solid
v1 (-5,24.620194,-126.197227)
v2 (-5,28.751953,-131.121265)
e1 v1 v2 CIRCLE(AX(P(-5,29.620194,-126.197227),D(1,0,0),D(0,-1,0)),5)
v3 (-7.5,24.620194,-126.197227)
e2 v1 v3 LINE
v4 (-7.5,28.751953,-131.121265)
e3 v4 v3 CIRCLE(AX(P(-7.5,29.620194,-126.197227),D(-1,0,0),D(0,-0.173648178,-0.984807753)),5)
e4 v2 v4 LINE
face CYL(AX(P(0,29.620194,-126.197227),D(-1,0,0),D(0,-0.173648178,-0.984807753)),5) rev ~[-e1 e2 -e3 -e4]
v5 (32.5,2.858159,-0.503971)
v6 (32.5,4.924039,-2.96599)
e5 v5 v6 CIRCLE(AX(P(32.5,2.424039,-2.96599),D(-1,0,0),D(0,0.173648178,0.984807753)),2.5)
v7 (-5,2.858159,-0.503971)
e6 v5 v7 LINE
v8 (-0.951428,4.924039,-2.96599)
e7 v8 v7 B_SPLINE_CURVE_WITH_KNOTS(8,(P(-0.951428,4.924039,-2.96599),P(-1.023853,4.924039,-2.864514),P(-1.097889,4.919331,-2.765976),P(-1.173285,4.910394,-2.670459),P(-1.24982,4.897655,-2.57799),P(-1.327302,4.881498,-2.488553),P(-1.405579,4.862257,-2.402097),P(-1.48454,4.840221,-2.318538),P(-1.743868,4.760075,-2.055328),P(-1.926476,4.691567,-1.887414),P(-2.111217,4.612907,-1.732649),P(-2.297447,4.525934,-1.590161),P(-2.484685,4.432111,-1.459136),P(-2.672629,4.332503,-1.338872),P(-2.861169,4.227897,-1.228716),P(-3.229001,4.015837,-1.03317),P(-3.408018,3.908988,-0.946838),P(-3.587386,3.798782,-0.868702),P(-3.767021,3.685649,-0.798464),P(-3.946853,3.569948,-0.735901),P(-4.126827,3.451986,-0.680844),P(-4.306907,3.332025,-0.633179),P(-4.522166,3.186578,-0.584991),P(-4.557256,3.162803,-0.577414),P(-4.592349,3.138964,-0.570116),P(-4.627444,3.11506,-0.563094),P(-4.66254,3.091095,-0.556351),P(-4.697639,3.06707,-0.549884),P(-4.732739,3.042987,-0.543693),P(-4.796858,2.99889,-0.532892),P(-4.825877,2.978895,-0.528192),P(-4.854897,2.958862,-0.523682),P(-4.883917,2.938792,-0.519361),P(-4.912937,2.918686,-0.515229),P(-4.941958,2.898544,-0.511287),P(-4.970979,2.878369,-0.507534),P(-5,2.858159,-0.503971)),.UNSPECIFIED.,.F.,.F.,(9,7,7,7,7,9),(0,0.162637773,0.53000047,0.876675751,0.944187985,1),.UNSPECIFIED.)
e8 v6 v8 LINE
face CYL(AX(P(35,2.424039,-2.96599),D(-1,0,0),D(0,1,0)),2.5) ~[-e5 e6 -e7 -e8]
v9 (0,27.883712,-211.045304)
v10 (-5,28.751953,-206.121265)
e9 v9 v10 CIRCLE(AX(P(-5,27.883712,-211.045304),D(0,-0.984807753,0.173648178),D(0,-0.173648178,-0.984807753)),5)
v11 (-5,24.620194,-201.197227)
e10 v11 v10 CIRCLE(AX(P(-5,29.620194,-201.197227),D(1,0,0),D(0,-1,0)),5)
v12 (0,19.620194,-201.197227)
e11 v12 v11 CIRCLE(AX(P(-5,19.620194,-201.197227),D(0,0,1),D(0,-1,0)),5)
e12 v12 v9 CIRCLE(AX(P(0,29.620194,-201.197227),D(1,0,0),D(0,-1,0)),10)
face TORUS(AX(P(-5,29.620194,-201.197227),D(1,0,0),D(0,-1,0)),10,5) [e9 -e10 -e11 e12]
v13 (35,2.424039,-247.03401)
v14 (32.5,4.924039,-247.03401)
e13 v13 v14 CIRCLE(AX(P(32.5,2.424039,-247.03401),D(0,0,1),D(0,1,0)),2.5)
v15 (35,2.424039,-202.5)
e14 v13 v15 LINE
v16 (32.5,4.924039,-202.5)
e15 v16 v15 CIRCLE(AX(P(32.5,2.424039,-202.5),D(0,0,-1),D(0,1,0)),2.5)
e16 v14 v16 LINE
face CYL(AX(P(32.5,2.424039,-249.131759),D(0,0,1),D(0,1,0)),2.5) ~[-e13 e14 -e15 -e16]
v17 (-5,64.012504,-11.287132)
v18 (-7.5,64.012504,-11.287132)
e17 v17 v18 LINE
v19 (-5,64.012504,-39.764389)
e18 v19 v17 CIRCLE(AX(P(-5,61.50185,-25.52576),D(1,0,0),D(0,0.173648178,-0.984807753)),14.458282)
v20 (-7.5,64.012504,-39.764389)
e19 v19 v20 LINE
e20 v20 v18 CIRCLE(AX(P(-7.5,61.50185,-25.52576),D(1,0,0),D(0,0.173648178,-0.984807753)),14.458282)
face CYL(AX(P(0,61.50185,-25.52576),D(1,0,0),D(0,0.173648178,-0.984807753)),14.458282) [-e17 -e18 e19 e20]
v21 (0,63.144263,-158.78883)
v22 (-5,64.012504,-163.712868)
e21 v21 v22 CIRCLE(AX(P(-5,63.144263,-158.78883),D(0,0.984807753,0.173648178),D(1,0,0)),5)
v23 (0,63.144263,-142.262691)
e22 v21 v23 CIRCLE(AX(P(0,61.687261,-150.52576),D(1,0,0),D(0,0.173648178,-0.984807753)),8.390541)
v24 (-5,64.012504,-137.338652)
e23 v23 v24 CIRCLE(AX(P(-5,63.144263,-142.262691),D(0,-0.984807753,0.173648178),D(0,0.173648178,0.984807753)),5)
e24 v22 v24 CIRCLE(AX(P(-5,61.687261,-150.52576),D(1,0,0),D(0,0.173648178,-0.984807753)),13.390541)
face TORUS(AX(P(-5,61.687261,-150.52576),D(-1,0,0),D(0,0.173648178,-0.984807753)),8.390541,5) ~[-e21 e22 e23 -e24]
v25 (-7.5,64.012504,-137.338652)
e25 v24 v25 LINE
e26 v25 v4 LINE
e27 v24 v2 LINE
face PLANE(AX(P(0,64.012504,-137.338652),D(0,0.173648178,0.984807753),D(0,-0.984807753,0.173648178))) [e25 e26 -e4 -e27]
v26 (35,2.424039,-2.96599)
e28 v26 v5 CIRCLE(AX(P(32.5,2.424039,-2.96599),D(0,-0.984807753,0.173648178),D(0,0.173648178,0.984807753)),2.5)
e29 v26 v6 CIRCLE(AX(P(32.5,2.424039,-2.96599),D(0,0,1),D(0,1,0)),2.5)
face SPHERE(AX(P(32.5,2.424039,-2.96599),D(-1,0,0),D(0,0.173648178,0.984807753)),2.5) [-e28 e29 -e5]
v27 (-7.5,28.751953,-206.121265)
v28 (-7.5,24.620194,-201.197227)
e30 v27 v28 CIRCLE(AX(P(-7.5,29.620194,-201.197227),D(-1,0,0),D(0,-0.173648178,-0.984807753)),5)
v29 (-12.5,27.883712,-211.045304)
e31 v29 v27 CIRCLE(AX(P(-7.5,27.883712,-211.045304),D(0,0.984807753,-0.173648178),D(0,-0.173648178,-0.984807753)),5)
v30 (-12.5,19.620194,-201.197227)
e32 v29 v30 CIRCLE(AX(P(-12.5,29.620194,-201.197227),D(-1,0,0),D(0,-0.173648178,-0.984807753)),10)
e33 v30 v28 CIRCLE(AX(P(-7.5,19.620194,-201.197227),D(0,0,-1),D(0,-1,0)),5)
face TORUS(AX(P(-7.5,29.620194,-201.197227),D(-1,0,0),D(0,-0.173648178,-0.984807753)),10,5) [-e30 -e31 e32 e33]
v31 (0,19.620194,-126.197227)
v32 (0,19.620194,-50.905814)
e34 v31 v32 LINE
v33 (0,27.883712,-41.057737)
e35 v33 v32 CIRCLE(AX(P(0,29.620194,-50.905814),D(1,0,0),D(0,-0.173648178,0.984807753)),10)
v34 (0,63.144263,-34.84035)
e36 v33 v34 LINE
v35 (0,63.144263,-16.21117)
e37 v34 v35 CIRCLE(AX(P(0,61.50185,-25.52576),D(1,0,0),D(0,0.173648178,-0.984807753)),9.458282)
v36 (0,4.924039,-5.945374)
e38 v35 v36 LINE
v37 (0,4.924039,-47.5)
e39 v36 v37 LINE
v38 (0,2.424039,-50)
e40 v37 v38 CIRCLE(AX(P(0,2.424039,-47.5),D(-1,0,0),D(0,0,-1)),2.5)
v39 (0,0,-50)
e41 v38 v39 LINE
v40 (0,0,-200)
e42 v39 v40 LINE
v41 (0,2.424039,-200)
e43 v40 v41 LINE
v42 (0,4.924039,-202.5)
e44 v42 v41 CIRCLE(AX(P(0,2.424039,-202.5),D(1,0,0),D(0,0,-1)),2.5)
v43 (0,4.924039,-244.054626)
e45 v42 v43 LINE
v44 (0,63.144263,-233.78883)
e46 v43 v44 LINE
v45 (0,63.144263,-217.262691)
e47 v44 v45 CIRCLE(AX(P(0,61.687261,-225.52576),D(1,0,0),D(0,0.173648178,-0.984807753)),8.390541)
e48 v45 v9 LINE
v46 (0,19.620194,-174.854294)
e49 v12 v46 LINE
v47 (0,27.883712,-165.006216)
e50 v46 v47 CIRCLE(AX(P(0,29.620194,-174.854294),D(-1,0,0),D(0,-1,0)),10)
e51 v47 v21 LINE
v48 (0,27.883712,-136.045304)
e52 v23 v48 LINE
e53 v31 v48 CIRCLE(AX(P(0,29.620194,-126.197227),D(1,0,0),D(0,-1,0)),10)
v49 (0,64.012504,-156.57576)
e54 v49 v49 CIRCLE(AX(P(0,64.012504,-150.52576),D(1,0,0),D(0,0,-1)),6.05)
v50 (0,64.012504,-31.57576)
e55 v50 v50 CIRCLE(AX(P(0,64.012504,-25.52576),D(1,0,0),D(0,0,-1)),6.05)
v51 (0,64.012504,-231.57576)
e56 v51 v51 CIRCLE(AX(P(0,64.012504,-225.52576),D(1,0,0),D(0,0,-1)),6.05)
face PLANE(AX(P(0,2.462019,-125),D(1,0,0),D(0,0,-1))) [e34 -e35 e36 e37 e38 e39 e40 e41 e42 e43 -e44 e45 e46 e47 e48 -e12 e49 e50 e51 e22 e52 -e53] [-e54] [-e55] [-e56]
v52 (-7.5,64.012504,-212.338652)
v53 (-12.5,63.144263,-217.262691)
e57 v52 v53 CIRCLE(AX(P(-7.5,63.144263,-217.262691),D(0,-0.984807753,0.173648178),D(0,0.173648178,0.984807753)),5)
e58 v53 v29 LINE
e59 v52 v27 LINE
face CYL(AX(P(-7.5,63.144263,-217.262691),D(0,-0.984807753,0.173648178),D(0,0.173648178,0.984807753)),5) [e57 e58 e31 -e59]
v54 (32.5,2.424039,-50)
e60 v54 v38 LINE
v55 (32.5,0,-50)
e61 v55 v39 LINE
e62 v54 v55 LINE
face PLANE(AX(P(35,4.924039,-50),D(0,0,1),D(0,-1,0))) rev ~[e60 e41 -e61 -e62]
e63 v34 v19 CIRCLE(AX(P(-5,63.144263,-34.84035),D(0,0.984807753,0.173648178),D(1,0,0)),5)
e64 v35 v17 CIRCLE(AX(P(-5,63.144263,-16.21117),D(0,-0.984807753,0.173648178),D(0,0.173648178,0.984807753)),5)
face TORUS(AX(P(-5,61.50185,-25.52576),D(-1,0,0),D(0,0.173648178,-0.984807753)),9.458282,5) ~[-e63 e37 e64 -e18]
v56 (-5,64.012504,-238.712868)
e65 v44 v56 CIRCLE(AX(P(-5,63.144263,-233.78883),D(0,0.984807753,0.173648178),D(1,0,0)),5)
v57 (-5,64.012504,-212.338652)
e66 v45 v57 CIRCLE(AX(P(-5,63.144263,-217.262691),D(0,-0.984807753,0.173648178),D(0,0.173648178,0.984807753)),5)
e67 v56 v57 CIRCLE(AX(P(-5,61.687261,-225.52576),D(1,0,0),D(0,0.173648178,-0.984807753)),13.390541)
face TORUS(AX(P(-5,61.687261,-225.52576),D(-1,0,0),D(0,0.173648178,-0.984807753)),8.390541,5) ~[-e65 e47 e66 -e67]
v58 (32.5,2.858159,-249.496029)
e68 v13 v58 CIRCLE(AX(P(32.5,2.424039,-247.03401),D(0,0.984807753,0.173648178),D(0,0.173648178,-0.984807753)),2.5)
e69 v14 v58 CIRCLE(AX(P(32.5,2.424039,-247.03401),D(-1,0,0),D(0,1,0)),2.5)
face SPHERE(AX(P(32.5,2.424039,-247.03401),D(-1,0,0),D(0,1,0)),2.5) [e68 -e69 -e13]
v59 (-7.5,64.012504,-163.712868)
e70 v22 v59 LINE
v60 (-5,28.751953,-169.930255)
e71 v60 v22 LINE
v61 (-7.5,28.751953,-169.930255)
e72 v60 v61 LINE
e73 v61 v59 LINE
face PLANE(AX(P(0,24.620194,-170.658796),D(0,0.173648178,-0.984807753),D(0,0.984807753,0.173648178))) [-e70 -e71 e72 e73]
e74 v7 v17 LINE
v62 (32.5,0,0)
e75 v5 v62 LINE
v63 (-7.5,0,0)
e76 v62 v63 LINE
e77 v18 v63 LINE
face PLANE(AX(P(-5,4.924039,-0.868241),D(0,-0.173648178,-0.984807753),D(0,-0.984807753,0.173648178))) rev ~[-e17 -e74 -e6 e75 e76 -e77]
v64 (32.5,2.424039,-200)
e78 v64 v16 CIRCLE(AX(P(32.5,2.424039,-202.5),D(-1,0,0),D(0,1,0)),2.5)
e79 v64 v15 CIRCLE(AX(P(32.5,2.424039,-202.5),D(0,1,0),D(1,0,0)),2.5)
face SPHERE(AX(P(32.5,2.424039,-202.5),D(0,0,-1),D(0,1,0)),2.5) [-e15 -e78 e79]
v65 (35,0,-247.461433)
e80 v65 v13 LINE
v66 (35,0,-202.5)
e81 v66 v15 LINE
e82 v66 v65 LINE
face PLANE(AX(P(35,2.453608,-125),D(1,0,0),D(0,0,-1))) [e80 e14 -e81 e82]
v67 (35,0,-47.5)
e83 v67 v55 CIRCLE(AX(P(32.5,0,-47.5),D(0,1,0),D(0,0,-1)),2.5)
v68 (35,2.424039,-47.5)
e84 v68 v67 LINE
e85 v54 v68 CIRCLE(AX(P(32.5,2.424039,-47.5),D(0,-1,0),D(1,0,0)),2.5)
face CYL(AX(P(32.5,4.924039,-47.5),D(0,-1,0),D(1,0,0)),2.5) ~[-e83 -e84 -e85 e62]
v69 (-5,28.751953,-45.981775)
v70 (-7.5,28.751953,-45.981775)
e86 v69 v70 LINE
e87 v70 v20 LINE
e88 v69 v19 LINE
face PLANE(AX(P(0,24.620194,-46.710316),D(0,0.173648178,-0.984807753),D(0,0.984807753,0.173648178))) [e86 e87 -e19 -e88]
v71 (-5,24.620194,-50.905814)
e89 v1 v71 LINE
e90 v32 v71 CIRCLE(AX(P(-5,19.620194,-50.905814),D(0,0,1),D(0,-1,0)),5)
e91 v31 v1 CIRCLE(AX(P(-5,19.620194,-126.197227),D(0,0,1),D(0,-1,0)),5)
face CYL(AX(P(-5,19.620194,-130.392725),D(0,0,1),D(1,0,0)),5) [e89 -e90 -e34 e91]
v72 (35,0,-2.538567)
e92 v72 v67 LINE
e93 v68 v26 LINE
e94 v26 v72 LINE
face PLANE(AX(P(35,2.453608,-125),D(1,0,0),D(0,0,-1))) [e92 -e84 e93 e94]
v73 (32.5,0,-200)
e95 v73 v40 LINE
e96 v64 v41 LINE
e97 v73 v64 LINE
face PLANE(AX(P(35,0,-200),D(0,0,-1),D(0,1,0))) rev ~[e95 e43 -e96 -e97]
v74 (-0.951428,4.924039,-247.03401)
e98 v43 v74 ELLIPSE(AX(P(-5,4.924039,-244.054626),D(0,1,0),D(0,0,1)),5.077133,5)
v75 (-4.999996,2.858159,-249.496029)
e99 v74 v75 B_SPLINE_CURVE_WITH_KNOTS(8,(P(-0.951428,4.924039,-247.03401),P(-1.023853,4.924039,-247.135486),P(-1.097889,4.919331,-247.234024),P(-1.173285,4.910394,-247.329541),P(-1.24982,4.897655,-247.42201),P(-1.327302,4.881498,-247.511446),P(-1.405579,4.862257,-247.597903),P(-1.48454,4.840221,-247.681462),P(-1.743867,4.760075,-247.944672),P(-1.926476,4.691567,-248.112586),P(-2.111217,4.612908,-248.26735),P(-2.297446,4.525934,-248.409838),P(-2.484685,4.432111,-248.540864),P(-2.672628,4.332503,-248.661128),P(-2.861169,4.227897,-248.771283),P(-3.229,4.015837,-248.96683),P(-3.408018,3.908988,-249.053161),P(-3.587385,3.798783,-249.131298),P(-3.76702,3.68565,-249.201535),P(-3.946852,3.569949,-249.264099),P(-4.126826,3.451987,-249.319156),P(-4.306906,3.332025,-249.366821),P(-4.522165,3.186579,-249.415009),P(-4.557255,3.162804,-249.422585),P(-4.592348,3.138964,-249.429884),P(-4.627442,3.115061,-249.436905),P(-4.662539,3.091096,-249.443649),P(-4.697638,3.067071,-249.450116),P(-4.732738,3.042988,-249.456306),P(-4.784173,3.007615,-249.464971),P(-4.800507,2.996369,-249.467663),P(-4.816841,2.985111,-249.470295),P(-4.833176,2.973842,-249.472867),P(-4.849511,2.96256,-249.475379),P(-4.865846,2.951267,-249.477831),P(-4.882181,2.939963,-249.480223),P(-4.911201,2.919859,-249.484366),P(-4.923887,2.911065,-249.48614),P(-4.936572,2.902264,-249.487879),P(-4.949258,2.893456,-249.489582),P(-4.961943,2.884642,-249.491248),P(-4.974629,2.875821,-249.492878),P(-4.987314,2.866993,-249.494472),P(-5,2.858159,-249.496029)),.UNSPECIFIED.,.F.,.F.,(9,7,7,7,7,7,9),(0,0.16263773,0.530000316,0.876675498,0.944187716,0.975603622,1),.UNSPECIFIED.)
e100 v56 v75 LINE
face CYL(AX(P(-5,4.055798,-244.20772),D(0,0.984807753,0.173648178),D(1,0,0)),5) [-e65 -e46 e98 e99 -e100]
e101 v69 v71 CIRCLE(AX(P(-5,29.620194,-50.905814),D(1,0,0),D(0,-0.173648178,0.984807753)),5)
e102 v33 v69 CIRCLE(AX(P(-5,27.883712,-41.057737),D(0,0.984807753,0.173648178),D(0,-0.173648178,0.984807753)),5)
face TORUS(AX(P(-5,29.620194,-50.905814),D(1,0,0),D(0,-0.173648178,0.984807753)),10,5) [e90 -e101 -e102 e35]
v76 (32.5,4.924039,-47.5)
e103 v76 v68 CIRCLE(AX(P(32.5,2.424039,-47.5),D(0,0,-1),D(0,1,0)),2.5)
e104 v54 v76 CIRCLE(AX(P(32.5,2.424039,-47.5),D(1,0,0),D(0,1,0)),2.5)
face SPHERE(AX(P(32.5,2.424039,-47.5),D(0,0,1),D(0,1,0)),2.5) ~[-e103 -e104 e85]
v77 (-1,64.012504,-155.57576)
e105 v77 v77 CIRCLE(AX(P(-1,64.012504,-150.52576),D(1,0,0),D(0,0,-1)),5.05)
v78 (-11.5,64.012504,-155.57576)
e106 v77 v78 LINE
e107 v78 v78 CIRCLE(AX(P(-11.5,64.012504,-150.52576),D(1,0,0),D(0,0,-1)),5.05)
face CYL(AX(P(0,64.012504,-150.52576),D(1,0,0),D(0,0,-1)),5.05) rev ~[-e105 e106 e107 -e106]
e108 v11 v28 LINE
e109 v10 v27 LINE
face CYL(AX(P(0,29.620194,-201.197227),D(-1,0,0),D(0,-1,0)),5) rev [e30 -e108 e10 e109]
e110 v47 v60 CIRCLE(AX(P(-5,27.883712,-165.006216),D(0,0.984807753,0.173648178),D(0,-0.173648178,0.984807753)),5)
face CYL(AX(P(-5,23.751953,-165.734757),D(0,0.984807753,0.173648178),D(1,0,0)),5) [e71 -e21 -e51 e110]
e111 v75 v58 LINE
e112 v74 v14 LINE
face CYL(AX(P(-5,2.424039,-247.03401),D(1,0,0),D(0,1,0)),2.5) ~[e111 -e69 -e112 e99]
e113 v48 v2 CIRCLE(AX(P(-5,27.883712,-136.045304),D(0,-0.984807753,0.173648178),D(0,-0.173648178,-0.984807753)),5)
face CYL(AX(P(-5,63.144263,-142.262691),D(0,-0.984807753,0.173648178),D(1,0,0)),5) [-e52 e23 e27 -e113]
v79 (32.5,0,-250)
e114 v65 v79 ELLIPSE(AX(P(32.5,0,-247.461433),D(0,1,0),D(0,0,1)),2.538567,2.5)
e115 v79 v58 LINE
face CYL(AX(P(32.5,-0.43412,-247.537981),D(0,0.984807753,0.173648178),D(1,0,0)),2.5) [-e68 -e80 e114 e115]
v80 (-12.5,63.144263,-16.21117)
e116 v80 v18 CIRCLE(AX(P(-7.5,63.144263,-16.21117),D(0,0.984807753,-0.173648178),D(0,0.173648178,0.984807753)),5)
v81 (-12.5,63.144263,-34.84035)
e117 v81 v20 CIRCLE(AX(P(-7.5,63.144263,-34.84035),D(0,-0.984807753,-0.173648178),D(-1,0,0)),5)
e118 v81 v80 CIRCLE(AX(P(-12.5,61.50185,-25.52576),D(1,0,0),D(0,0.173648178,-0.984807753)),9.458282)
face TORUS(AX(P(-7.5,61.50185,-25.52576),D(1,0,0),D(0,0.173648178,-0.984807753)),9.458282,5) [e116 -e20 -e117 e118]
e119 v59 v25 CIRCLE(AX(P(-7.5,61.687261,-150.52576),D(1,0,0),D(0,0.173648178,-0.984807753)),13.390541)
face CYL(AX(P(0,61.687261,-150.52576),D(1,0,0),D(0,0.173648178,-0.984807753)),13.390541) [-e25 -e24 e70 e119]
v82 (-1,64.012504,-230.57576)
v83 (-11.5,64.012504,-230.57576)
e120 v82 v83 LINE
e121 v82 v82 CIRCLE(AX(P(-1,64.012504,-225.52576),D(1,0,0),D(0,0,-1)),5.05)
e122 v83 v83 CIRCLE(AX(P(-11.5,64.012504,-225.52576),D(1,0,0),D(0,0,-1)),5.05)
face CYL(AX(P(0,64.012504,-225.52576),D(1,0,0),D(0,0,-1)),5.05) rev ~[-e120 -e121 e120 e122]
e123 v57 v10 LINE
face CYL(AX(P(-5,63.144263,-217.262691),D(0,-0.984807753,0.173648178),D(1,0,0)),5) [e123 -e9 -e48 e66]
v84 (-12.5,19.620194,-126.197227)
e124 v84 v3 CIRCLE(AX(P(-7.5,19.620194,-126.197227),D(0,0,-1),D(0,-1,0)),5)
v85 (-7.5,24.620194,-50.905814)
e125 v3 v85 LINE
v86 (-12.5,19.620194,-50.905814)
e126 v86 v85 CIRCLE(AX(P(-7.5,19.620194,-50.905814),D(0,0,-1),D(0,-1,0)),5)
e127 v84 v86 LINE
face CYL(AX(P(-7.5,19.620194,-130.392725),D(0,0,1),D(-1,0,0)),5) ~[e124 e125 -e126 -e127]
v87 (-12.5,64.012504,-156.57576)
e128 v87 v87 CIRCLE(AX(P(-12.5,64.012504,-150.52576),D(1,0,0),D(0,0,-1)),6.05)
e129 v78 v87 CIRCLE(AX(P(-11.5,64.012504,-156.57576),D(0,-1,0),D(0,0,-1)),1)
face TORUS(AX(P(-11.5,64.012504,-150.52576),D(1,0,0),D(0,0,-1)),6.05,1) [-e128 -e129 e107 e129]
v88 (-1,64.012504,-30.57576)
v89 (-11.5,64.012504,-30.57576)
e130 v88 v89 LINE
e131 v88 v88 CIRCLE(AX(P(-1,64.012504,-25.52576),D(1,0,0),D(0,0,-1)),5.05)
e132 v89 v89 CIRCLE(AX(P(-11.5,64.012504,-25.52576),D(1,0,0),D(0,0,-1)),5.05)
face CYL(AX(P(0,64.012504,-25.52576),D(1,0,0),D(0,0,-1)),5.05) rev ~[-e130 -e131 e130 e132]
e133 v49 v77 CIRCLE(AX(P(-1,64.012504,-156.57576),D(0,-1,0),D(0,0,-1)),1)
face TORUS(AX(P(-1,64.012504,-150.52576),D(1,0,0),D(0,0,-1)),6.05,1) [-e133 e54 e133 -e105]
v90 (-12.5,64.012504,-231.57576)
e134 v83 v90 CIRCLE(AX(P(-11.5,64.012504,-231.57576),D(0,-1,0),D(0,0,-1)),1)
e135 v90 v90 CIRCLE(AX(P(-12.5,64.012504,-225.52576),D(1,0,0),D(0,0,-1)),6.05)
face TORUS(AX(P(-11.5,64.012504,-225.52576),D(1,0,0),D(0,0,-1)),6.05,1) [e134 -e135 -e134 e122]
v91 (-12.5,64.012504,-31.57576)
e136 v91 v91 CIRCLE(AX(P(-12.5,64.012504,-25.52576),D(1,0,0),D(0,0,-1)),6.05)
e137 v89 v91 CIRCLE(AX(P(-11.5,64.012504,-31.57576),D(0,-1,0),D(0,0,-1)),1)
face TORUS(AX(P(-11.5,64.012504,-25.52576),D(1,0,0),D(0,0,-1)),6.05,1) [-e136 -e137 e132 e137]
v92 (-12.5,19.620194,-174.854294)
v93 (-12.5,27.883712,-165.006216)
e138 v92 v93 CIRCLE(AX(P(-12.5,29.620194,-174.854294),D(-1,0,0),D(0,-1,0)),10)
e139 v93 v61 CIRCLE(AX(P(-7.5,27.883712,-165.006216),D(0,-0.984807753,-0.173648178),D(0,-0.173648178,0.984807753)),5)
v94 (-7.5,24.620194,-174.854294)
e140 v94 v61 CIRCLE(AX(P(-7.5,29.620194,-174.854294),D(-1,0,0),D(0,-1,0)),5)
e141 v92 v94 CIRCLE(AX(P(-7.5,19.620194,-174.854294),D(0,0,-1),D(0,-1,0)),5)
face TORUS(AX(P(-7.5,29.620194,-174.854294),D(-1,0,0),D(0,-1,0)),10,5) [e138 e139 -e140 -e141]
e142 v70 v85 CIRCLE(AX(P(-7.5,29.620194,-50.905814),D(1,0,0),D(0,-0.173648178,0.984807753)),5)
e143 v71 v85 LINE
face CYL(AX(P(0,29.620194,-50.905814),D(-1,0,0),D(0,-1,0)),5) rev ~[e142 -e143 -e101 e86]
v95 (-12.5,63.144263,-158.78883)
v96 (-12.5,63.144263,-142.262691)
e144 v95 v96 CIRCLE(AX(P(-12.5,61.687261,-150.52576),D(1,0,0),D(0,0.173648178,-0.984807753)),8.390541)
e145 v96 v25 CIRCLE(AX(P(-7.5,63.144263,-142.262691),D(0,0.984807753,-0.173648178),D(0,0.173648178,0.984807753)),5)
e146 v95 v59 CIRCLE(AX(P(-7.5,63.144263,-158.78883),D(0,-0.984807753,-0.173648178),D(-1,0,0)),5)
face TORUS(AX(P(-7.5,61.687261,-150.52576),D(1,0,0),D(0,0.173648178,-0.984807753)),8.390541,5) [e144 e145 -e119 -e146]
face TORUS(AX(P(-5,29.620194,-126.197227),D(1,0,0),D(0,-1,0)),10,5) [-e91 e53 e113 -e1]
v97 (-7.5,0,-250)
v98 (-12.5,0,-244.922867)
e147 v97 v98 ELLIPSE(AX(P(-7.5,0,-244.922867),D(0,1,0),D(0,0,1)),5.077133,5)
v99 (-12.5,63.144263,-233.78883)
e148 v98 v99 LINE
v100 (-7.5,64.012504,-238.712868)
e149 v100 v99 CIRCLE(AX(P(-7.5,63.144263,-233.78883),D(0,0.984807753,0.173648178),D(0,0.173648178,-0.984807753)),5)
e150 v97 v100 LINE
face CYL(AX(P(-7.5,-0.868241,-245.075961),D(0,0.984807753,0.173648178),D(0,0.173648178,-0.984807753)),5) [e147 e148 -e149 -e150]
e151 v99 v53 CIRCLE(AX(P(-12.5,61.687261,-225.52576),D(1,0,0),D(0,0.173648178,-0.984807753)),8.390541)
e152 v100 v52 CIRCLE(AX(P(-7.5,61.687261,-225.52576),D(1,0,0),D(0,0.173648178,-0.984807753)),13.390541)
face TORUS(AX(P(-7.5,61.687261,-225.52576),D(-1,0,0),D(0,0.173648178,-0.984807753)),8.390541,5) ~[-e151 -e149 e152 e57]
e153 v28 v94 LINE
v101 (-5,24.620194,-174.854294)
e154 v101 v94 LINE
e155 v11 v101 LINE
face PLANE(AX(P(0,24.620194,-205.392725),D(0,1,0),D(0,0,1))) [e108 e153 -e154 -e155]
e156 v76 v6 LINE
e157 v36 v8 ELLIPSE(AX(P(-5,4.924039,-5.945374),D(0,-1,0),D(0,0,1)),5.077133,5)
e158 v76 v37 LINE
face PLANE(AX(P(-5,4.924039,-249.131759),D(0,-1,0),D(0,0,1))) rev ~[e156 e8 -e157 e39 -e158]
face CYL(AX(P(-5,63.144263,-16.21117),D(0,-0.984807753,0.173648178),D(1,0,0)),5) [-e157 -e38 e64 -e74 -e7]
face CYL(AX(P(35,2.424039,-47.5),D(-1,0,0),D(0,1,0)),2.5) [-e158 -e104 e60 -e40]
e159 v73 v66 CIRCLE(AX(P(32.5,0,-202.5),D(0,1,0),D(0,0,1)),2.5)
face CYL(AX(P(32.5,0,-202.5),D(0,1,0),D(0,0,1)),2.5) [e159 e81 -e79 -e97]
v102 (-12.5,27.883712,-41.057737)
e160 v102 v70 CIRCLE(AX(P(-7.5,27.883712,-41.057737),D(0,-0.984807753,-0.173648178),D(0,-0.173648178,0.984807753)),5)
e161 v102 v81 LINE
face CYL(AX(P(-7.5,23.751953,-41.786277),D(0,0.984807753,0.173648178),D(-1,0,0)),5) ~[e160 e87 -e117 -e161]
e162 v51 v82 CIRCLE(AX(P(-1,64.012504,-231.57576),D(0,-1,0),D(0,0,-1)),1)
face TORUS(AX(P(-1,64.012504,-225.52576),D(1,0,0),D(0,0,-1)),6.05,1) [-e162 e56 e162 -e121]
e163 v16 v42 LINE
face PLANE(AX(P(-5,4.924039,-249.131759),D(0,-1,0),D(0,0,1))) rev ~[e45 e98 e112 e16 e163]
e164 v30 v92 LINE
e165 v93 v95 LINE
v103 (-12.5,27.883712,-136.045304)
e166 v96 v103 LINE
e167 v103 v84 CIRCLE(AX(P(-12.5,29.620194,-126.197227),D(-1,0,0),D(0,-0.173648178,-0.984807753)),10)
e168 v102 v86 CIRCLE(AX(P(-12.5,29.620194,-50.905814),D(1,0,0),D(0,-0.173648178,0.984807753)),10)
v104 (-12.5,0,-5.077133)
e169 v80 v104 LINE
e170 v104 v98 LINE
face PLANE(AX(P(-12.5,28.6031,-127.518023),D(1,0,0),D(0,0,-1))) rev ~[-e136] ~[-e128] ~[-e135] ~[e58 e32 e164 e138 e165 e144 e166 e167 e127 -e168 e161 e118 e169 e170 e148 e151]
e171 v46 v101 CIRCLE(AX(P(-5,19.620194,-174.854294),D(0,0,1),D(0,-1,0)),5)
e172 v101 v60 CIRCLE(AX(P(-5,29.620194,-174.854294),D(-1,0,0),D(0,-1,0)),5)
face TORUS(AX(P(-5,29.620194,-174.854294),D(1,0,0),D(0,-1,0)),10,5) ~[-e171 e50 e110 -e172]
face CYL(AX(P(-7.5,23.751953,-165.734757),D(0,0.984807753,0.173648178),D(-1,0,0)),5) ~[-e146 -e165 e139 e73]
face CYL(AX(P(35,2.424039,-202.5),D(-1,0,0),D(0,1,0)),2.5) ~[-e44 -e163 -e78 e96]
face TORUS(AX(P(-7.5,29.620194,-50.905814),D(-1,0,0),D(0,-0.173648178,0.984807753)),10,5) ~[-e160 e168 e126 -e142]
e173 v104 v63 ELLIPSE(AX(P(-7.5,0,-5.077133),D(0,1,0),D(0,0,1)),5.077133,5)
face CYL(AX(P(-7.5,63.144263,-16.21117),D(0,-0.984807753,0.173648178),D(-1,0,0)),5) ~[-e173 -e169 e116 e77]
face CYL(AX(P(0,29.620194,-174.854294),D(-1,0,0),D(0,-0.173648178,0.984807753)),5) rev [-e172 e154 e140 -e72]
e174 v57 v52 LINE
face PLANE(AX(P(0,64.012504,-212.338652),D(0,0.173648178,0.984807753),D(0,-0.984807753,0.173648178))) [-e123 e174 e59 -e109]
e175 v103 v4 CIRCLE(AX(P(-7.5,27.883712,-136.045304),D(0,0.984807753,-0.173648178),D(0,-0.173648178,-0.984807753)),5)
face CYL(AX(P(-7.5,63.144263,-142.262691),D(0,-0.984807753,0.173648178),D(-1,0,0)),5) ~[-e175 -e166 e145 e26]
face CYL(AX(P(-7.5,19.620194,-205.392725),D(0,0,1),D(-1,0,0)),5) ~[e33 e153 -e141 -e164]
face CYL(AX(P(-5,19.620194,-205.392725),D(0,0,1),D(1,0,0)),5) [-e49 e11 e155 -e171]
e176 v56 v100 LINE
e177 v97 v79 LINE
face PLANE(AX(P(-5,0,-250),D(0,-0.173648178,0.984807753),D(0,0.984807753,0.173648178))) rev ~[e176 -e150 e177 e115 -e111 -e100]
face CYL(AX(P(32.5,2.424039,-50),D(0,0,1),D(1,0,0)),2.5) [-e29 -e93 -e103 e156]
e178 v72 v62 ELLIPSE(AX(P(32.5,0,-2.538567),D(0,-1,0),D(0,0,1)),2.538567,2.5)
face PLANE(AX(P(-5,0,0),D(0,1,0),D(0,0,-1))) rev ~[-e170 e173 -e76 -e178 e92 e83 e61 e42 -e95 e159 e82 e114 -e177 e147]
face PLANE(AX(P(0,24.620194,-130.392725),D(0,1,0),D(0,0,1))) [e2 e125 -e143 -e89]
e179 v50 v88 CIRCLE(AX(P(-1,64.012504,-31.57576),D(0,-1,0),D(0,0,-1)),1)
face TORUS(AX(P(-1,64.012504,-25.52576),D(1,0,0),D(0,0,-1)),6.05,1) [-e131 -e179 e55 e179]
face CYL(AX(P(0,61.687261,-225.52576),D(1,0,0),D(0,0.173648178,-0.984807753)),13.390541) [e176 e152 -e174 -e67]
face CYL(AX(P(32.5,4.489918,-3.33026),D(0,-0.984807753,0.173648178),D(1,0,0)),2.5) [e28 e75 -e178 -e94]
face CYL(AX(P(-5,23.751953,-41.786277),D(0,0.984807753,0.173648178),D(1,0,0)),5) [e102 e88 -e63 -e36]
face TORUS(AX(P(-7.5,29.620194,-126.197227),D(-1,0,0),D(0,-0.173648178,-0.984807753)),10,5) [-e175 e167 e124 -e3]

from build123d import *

# Parameters (mm, degrees)
BASEEXTRUDE_DEPTH        = 25
BASEWHLESSKETCH_R        = 10.099999999999994
BASEWHLESSKETCH_R_2      = 10.099999999999975
WHOLESCUT_DEPTH          = 25
BOSS_EXTRUDE1_DEPTH      = 70
BOSS_EXTRUDE1_DEPTH_BACK = 10
CUT_EXTRUDE1_DEPTH       = 70
FILLET3_R                = 10
FILLET4_R                = 5
FILLET5_R                = 2
SCALE1_SCALE             = 0.5


with BuildPart() as part:
    # BaseSketch → BaseExtrude (new body)
    with BuildSketch(Plane(origin=(0, 0, 0), x_dir=(0, 0, -1), z_dir=(1, 0, 0))):
        with BuildLine():
            Line((341.3175911166535, 49.240387650610245), (327.4257369032995, 128.02500789158682))
            ThreePointArc((327.4257369032995, 128.02500789158682), (301.05152041044613, 150.1556032233296), (274.6773039175927, 128.02500789158682))
            Line((274.6773039175927, 128.02500789158682), (260.7854497042379, 49.240387650610245))
            Line((260.7854497042379, 49.240387650610245), (93.4206319375457, 49.24038765061042))
            Line((93.4206319375457, 49.24038765061042), (79.52877772419151, 128.0250078915871))
            ThreePointArc((79.52877772419151, 128.0250078915871), (51.05152041044603, 151.9202640004915), (22.574263096700555, 128.0250078915871))
            Line((22.574263096700555, 128.0250078915871), (0, 0))
            Line((0, 0), (500, 0))
            Line((500, 0), (477.42573690329937, 128.0250078915871))
            ThreePointArc((477.42573690329937, 128.0250078915871), (451.051520410446, 150.15560322333013), (424.6773039175926, 128.0250078915871))
            Line((424.6773039175926, 128.0250078915871), (410.78544970423786, 49.24038765061051))
            Line((410.78544970423786, 49.24038765061051), (341.3175911166535, 49.240387650610245))
        make_face()
    extrude(amount=-BASEEXTRUDE_DEPTH)

    # Basewhlessketch → WholesCut (cut)
    with BuildSketch(Plane(origin=(0, 0, 0), x_dir=(0, 0, -1), z_dir=(1, 0, 0))):
        with Locations((51.05152041044603, 128.0250078915871)):
            Circle(BASEWHLESSKETCH_R)
        with Locations((301.05152041044613, 128.0250078915871)):
            Circle(BASEWHLESSKETCH_R_2)
        with Locations((451.051520410446, 128.0250078915871)):
            Circle(BASEWHLESSKETCH_R_2)
    extrude(amount=-WHOLESCUT_DEPTH, mode=Mode.SUBTRACT)

    # Sketch1 → Boss-Extrude1 (add, two sides: drawn at the far end of the back side and taken through both)
    with BuildSketch(Plane(origin=(0, 0, 0), x_dir=(0, 0, -1), z_dir=(1, 0, 0)).offset(-BOSS_EXTRUDE1_DEPTH_BACK)):
        Polygon((0, 0), (500, 0), (498.2635182233307, 9.848077530122145), (1.736481776669274, 9.848077530122085), align=None)
    extrude(amount=BOSS_EXTRUDE1_DEPTH + BOSS_EXTRUDE1_DEPTH_BACK)

    # Sketch2 → Cut-Extrude1 (cut)
    with BuildSketch(Plane(origin=(70, 0, 0), x_dir=(0, 0, -1), z_dir=(1, 0, 0))):
        Polygon((100, 0), (400, -1.225e-14), (400, 9.848077530122138), (100, 9.848077530122138), align=None)
    extrude(amount=-CUT_EXTRUDE1_DEPTH, mode=Mode.SUBTRACT)

    # Fillet3
    fillet3_edges = [part.edges().sort_by_distance(p)[0] for p in [
        (-25, 150.1556032233296, -301.05152041044613),
        (0, 49.24038765061037, -376.0515204104457),
        (0, 88.6326977710988, -417.73137681091526),
        (0, 150.15560322333013, -451.051520410446),
        (0, 68.93654271085462, -487.84462756331504),
        (-25, 88.63269777109853, -267.7313768109153),
        (0, 151.9202640004915, -51.05152041044603),
        (0, 88.63269777109878, -86.4747048308686),
        (0, 49.24038765061033, -177.1030408208918),
        (0, 88.63269777109853, -267.7313768109153),
        (0, 150.1556032233296, -301.05152041044613),
        (0, 88.63269777109853, -334.3716640099765),
        (-25, 49.24038765061033, -177.1030408208918),
        (-12.5, 49.240387650610245, -341.3175911166535),
        (-12.5, 49.24038765061051, -410.78544970423786),
        (-12.5, 49.24038765061042, -93.4206319375457),
        (-12.5, 49.240387650610245, -260.7854497042379),
        (-25, 88.63269777109878, -86.4747048308686),
        (-25, 151.9202640004915, -51.05152041044603),
        (-25, 64.01250394579355, -11.287131548350278),
        (-25, 64.01250394579355, -488.7128684516497),
        (-25, 150.15560322333013, -451.051520410446),
        (0, 68.93654271085461, -12.155372436684916),
        (-25, 88.6326977710988, -417.73137681091526),
        (-25, 88.63269777109853, -334.3716640099765),
        (-25, 49.24038765061037, -376.0515204104457),
    ]]
    fillet(fillet3_edges, radius=FILLET3_R)

    # Fillet4
    fillet4_edges = [part.edges().sort_by_distance(p)[0] for p in [
        (70, 9.84807753012209, -50.86824088833464),
        (30, 9.848077530122083, -1.736481776669275),
        (35, 9.848077530122138, -100),
        (70, 4.924038765061042, -0.868240888334637),
        (70, 4.924038765061069, -100),
        (30, 9.848077530122145, -498.2635182233307),
        (70, 9.84807753012214, -449.13175911166536),
        (35, 9.848077530122138, -400),
        (70, 4.924038765061063, -400),
        (70, 4.924038765061073, -499.13175911166536),
    ]]
    fillet(fillet4_edges, radius=FILLET4_R)

    # Fillet5
    fillet5_edges = [part.edges().sort_by_distance(p)[0] for p in [
        (-25, 128.0250078915871, -40.95152041044604),
        (0, 128.0250078915871, -40.95152041044604),
        (-25, 128.0250078915871, -290.95152041044616),
        (0, 128.0250078915871, -290.95152041044616),
        (-25, 128.0250078915871, -440.95152041044605),
        (0, 128.0250078915871, -440.95152041044605),
    ]]
    fillet(fillet5_edges, radius=FILLET5_R)


with BuildPart() as part_1:
    # Scale1: scaled about (0, 0, 0)
    add(part.part.scale(SCALE1_SCALE))


solid = part_1.part
